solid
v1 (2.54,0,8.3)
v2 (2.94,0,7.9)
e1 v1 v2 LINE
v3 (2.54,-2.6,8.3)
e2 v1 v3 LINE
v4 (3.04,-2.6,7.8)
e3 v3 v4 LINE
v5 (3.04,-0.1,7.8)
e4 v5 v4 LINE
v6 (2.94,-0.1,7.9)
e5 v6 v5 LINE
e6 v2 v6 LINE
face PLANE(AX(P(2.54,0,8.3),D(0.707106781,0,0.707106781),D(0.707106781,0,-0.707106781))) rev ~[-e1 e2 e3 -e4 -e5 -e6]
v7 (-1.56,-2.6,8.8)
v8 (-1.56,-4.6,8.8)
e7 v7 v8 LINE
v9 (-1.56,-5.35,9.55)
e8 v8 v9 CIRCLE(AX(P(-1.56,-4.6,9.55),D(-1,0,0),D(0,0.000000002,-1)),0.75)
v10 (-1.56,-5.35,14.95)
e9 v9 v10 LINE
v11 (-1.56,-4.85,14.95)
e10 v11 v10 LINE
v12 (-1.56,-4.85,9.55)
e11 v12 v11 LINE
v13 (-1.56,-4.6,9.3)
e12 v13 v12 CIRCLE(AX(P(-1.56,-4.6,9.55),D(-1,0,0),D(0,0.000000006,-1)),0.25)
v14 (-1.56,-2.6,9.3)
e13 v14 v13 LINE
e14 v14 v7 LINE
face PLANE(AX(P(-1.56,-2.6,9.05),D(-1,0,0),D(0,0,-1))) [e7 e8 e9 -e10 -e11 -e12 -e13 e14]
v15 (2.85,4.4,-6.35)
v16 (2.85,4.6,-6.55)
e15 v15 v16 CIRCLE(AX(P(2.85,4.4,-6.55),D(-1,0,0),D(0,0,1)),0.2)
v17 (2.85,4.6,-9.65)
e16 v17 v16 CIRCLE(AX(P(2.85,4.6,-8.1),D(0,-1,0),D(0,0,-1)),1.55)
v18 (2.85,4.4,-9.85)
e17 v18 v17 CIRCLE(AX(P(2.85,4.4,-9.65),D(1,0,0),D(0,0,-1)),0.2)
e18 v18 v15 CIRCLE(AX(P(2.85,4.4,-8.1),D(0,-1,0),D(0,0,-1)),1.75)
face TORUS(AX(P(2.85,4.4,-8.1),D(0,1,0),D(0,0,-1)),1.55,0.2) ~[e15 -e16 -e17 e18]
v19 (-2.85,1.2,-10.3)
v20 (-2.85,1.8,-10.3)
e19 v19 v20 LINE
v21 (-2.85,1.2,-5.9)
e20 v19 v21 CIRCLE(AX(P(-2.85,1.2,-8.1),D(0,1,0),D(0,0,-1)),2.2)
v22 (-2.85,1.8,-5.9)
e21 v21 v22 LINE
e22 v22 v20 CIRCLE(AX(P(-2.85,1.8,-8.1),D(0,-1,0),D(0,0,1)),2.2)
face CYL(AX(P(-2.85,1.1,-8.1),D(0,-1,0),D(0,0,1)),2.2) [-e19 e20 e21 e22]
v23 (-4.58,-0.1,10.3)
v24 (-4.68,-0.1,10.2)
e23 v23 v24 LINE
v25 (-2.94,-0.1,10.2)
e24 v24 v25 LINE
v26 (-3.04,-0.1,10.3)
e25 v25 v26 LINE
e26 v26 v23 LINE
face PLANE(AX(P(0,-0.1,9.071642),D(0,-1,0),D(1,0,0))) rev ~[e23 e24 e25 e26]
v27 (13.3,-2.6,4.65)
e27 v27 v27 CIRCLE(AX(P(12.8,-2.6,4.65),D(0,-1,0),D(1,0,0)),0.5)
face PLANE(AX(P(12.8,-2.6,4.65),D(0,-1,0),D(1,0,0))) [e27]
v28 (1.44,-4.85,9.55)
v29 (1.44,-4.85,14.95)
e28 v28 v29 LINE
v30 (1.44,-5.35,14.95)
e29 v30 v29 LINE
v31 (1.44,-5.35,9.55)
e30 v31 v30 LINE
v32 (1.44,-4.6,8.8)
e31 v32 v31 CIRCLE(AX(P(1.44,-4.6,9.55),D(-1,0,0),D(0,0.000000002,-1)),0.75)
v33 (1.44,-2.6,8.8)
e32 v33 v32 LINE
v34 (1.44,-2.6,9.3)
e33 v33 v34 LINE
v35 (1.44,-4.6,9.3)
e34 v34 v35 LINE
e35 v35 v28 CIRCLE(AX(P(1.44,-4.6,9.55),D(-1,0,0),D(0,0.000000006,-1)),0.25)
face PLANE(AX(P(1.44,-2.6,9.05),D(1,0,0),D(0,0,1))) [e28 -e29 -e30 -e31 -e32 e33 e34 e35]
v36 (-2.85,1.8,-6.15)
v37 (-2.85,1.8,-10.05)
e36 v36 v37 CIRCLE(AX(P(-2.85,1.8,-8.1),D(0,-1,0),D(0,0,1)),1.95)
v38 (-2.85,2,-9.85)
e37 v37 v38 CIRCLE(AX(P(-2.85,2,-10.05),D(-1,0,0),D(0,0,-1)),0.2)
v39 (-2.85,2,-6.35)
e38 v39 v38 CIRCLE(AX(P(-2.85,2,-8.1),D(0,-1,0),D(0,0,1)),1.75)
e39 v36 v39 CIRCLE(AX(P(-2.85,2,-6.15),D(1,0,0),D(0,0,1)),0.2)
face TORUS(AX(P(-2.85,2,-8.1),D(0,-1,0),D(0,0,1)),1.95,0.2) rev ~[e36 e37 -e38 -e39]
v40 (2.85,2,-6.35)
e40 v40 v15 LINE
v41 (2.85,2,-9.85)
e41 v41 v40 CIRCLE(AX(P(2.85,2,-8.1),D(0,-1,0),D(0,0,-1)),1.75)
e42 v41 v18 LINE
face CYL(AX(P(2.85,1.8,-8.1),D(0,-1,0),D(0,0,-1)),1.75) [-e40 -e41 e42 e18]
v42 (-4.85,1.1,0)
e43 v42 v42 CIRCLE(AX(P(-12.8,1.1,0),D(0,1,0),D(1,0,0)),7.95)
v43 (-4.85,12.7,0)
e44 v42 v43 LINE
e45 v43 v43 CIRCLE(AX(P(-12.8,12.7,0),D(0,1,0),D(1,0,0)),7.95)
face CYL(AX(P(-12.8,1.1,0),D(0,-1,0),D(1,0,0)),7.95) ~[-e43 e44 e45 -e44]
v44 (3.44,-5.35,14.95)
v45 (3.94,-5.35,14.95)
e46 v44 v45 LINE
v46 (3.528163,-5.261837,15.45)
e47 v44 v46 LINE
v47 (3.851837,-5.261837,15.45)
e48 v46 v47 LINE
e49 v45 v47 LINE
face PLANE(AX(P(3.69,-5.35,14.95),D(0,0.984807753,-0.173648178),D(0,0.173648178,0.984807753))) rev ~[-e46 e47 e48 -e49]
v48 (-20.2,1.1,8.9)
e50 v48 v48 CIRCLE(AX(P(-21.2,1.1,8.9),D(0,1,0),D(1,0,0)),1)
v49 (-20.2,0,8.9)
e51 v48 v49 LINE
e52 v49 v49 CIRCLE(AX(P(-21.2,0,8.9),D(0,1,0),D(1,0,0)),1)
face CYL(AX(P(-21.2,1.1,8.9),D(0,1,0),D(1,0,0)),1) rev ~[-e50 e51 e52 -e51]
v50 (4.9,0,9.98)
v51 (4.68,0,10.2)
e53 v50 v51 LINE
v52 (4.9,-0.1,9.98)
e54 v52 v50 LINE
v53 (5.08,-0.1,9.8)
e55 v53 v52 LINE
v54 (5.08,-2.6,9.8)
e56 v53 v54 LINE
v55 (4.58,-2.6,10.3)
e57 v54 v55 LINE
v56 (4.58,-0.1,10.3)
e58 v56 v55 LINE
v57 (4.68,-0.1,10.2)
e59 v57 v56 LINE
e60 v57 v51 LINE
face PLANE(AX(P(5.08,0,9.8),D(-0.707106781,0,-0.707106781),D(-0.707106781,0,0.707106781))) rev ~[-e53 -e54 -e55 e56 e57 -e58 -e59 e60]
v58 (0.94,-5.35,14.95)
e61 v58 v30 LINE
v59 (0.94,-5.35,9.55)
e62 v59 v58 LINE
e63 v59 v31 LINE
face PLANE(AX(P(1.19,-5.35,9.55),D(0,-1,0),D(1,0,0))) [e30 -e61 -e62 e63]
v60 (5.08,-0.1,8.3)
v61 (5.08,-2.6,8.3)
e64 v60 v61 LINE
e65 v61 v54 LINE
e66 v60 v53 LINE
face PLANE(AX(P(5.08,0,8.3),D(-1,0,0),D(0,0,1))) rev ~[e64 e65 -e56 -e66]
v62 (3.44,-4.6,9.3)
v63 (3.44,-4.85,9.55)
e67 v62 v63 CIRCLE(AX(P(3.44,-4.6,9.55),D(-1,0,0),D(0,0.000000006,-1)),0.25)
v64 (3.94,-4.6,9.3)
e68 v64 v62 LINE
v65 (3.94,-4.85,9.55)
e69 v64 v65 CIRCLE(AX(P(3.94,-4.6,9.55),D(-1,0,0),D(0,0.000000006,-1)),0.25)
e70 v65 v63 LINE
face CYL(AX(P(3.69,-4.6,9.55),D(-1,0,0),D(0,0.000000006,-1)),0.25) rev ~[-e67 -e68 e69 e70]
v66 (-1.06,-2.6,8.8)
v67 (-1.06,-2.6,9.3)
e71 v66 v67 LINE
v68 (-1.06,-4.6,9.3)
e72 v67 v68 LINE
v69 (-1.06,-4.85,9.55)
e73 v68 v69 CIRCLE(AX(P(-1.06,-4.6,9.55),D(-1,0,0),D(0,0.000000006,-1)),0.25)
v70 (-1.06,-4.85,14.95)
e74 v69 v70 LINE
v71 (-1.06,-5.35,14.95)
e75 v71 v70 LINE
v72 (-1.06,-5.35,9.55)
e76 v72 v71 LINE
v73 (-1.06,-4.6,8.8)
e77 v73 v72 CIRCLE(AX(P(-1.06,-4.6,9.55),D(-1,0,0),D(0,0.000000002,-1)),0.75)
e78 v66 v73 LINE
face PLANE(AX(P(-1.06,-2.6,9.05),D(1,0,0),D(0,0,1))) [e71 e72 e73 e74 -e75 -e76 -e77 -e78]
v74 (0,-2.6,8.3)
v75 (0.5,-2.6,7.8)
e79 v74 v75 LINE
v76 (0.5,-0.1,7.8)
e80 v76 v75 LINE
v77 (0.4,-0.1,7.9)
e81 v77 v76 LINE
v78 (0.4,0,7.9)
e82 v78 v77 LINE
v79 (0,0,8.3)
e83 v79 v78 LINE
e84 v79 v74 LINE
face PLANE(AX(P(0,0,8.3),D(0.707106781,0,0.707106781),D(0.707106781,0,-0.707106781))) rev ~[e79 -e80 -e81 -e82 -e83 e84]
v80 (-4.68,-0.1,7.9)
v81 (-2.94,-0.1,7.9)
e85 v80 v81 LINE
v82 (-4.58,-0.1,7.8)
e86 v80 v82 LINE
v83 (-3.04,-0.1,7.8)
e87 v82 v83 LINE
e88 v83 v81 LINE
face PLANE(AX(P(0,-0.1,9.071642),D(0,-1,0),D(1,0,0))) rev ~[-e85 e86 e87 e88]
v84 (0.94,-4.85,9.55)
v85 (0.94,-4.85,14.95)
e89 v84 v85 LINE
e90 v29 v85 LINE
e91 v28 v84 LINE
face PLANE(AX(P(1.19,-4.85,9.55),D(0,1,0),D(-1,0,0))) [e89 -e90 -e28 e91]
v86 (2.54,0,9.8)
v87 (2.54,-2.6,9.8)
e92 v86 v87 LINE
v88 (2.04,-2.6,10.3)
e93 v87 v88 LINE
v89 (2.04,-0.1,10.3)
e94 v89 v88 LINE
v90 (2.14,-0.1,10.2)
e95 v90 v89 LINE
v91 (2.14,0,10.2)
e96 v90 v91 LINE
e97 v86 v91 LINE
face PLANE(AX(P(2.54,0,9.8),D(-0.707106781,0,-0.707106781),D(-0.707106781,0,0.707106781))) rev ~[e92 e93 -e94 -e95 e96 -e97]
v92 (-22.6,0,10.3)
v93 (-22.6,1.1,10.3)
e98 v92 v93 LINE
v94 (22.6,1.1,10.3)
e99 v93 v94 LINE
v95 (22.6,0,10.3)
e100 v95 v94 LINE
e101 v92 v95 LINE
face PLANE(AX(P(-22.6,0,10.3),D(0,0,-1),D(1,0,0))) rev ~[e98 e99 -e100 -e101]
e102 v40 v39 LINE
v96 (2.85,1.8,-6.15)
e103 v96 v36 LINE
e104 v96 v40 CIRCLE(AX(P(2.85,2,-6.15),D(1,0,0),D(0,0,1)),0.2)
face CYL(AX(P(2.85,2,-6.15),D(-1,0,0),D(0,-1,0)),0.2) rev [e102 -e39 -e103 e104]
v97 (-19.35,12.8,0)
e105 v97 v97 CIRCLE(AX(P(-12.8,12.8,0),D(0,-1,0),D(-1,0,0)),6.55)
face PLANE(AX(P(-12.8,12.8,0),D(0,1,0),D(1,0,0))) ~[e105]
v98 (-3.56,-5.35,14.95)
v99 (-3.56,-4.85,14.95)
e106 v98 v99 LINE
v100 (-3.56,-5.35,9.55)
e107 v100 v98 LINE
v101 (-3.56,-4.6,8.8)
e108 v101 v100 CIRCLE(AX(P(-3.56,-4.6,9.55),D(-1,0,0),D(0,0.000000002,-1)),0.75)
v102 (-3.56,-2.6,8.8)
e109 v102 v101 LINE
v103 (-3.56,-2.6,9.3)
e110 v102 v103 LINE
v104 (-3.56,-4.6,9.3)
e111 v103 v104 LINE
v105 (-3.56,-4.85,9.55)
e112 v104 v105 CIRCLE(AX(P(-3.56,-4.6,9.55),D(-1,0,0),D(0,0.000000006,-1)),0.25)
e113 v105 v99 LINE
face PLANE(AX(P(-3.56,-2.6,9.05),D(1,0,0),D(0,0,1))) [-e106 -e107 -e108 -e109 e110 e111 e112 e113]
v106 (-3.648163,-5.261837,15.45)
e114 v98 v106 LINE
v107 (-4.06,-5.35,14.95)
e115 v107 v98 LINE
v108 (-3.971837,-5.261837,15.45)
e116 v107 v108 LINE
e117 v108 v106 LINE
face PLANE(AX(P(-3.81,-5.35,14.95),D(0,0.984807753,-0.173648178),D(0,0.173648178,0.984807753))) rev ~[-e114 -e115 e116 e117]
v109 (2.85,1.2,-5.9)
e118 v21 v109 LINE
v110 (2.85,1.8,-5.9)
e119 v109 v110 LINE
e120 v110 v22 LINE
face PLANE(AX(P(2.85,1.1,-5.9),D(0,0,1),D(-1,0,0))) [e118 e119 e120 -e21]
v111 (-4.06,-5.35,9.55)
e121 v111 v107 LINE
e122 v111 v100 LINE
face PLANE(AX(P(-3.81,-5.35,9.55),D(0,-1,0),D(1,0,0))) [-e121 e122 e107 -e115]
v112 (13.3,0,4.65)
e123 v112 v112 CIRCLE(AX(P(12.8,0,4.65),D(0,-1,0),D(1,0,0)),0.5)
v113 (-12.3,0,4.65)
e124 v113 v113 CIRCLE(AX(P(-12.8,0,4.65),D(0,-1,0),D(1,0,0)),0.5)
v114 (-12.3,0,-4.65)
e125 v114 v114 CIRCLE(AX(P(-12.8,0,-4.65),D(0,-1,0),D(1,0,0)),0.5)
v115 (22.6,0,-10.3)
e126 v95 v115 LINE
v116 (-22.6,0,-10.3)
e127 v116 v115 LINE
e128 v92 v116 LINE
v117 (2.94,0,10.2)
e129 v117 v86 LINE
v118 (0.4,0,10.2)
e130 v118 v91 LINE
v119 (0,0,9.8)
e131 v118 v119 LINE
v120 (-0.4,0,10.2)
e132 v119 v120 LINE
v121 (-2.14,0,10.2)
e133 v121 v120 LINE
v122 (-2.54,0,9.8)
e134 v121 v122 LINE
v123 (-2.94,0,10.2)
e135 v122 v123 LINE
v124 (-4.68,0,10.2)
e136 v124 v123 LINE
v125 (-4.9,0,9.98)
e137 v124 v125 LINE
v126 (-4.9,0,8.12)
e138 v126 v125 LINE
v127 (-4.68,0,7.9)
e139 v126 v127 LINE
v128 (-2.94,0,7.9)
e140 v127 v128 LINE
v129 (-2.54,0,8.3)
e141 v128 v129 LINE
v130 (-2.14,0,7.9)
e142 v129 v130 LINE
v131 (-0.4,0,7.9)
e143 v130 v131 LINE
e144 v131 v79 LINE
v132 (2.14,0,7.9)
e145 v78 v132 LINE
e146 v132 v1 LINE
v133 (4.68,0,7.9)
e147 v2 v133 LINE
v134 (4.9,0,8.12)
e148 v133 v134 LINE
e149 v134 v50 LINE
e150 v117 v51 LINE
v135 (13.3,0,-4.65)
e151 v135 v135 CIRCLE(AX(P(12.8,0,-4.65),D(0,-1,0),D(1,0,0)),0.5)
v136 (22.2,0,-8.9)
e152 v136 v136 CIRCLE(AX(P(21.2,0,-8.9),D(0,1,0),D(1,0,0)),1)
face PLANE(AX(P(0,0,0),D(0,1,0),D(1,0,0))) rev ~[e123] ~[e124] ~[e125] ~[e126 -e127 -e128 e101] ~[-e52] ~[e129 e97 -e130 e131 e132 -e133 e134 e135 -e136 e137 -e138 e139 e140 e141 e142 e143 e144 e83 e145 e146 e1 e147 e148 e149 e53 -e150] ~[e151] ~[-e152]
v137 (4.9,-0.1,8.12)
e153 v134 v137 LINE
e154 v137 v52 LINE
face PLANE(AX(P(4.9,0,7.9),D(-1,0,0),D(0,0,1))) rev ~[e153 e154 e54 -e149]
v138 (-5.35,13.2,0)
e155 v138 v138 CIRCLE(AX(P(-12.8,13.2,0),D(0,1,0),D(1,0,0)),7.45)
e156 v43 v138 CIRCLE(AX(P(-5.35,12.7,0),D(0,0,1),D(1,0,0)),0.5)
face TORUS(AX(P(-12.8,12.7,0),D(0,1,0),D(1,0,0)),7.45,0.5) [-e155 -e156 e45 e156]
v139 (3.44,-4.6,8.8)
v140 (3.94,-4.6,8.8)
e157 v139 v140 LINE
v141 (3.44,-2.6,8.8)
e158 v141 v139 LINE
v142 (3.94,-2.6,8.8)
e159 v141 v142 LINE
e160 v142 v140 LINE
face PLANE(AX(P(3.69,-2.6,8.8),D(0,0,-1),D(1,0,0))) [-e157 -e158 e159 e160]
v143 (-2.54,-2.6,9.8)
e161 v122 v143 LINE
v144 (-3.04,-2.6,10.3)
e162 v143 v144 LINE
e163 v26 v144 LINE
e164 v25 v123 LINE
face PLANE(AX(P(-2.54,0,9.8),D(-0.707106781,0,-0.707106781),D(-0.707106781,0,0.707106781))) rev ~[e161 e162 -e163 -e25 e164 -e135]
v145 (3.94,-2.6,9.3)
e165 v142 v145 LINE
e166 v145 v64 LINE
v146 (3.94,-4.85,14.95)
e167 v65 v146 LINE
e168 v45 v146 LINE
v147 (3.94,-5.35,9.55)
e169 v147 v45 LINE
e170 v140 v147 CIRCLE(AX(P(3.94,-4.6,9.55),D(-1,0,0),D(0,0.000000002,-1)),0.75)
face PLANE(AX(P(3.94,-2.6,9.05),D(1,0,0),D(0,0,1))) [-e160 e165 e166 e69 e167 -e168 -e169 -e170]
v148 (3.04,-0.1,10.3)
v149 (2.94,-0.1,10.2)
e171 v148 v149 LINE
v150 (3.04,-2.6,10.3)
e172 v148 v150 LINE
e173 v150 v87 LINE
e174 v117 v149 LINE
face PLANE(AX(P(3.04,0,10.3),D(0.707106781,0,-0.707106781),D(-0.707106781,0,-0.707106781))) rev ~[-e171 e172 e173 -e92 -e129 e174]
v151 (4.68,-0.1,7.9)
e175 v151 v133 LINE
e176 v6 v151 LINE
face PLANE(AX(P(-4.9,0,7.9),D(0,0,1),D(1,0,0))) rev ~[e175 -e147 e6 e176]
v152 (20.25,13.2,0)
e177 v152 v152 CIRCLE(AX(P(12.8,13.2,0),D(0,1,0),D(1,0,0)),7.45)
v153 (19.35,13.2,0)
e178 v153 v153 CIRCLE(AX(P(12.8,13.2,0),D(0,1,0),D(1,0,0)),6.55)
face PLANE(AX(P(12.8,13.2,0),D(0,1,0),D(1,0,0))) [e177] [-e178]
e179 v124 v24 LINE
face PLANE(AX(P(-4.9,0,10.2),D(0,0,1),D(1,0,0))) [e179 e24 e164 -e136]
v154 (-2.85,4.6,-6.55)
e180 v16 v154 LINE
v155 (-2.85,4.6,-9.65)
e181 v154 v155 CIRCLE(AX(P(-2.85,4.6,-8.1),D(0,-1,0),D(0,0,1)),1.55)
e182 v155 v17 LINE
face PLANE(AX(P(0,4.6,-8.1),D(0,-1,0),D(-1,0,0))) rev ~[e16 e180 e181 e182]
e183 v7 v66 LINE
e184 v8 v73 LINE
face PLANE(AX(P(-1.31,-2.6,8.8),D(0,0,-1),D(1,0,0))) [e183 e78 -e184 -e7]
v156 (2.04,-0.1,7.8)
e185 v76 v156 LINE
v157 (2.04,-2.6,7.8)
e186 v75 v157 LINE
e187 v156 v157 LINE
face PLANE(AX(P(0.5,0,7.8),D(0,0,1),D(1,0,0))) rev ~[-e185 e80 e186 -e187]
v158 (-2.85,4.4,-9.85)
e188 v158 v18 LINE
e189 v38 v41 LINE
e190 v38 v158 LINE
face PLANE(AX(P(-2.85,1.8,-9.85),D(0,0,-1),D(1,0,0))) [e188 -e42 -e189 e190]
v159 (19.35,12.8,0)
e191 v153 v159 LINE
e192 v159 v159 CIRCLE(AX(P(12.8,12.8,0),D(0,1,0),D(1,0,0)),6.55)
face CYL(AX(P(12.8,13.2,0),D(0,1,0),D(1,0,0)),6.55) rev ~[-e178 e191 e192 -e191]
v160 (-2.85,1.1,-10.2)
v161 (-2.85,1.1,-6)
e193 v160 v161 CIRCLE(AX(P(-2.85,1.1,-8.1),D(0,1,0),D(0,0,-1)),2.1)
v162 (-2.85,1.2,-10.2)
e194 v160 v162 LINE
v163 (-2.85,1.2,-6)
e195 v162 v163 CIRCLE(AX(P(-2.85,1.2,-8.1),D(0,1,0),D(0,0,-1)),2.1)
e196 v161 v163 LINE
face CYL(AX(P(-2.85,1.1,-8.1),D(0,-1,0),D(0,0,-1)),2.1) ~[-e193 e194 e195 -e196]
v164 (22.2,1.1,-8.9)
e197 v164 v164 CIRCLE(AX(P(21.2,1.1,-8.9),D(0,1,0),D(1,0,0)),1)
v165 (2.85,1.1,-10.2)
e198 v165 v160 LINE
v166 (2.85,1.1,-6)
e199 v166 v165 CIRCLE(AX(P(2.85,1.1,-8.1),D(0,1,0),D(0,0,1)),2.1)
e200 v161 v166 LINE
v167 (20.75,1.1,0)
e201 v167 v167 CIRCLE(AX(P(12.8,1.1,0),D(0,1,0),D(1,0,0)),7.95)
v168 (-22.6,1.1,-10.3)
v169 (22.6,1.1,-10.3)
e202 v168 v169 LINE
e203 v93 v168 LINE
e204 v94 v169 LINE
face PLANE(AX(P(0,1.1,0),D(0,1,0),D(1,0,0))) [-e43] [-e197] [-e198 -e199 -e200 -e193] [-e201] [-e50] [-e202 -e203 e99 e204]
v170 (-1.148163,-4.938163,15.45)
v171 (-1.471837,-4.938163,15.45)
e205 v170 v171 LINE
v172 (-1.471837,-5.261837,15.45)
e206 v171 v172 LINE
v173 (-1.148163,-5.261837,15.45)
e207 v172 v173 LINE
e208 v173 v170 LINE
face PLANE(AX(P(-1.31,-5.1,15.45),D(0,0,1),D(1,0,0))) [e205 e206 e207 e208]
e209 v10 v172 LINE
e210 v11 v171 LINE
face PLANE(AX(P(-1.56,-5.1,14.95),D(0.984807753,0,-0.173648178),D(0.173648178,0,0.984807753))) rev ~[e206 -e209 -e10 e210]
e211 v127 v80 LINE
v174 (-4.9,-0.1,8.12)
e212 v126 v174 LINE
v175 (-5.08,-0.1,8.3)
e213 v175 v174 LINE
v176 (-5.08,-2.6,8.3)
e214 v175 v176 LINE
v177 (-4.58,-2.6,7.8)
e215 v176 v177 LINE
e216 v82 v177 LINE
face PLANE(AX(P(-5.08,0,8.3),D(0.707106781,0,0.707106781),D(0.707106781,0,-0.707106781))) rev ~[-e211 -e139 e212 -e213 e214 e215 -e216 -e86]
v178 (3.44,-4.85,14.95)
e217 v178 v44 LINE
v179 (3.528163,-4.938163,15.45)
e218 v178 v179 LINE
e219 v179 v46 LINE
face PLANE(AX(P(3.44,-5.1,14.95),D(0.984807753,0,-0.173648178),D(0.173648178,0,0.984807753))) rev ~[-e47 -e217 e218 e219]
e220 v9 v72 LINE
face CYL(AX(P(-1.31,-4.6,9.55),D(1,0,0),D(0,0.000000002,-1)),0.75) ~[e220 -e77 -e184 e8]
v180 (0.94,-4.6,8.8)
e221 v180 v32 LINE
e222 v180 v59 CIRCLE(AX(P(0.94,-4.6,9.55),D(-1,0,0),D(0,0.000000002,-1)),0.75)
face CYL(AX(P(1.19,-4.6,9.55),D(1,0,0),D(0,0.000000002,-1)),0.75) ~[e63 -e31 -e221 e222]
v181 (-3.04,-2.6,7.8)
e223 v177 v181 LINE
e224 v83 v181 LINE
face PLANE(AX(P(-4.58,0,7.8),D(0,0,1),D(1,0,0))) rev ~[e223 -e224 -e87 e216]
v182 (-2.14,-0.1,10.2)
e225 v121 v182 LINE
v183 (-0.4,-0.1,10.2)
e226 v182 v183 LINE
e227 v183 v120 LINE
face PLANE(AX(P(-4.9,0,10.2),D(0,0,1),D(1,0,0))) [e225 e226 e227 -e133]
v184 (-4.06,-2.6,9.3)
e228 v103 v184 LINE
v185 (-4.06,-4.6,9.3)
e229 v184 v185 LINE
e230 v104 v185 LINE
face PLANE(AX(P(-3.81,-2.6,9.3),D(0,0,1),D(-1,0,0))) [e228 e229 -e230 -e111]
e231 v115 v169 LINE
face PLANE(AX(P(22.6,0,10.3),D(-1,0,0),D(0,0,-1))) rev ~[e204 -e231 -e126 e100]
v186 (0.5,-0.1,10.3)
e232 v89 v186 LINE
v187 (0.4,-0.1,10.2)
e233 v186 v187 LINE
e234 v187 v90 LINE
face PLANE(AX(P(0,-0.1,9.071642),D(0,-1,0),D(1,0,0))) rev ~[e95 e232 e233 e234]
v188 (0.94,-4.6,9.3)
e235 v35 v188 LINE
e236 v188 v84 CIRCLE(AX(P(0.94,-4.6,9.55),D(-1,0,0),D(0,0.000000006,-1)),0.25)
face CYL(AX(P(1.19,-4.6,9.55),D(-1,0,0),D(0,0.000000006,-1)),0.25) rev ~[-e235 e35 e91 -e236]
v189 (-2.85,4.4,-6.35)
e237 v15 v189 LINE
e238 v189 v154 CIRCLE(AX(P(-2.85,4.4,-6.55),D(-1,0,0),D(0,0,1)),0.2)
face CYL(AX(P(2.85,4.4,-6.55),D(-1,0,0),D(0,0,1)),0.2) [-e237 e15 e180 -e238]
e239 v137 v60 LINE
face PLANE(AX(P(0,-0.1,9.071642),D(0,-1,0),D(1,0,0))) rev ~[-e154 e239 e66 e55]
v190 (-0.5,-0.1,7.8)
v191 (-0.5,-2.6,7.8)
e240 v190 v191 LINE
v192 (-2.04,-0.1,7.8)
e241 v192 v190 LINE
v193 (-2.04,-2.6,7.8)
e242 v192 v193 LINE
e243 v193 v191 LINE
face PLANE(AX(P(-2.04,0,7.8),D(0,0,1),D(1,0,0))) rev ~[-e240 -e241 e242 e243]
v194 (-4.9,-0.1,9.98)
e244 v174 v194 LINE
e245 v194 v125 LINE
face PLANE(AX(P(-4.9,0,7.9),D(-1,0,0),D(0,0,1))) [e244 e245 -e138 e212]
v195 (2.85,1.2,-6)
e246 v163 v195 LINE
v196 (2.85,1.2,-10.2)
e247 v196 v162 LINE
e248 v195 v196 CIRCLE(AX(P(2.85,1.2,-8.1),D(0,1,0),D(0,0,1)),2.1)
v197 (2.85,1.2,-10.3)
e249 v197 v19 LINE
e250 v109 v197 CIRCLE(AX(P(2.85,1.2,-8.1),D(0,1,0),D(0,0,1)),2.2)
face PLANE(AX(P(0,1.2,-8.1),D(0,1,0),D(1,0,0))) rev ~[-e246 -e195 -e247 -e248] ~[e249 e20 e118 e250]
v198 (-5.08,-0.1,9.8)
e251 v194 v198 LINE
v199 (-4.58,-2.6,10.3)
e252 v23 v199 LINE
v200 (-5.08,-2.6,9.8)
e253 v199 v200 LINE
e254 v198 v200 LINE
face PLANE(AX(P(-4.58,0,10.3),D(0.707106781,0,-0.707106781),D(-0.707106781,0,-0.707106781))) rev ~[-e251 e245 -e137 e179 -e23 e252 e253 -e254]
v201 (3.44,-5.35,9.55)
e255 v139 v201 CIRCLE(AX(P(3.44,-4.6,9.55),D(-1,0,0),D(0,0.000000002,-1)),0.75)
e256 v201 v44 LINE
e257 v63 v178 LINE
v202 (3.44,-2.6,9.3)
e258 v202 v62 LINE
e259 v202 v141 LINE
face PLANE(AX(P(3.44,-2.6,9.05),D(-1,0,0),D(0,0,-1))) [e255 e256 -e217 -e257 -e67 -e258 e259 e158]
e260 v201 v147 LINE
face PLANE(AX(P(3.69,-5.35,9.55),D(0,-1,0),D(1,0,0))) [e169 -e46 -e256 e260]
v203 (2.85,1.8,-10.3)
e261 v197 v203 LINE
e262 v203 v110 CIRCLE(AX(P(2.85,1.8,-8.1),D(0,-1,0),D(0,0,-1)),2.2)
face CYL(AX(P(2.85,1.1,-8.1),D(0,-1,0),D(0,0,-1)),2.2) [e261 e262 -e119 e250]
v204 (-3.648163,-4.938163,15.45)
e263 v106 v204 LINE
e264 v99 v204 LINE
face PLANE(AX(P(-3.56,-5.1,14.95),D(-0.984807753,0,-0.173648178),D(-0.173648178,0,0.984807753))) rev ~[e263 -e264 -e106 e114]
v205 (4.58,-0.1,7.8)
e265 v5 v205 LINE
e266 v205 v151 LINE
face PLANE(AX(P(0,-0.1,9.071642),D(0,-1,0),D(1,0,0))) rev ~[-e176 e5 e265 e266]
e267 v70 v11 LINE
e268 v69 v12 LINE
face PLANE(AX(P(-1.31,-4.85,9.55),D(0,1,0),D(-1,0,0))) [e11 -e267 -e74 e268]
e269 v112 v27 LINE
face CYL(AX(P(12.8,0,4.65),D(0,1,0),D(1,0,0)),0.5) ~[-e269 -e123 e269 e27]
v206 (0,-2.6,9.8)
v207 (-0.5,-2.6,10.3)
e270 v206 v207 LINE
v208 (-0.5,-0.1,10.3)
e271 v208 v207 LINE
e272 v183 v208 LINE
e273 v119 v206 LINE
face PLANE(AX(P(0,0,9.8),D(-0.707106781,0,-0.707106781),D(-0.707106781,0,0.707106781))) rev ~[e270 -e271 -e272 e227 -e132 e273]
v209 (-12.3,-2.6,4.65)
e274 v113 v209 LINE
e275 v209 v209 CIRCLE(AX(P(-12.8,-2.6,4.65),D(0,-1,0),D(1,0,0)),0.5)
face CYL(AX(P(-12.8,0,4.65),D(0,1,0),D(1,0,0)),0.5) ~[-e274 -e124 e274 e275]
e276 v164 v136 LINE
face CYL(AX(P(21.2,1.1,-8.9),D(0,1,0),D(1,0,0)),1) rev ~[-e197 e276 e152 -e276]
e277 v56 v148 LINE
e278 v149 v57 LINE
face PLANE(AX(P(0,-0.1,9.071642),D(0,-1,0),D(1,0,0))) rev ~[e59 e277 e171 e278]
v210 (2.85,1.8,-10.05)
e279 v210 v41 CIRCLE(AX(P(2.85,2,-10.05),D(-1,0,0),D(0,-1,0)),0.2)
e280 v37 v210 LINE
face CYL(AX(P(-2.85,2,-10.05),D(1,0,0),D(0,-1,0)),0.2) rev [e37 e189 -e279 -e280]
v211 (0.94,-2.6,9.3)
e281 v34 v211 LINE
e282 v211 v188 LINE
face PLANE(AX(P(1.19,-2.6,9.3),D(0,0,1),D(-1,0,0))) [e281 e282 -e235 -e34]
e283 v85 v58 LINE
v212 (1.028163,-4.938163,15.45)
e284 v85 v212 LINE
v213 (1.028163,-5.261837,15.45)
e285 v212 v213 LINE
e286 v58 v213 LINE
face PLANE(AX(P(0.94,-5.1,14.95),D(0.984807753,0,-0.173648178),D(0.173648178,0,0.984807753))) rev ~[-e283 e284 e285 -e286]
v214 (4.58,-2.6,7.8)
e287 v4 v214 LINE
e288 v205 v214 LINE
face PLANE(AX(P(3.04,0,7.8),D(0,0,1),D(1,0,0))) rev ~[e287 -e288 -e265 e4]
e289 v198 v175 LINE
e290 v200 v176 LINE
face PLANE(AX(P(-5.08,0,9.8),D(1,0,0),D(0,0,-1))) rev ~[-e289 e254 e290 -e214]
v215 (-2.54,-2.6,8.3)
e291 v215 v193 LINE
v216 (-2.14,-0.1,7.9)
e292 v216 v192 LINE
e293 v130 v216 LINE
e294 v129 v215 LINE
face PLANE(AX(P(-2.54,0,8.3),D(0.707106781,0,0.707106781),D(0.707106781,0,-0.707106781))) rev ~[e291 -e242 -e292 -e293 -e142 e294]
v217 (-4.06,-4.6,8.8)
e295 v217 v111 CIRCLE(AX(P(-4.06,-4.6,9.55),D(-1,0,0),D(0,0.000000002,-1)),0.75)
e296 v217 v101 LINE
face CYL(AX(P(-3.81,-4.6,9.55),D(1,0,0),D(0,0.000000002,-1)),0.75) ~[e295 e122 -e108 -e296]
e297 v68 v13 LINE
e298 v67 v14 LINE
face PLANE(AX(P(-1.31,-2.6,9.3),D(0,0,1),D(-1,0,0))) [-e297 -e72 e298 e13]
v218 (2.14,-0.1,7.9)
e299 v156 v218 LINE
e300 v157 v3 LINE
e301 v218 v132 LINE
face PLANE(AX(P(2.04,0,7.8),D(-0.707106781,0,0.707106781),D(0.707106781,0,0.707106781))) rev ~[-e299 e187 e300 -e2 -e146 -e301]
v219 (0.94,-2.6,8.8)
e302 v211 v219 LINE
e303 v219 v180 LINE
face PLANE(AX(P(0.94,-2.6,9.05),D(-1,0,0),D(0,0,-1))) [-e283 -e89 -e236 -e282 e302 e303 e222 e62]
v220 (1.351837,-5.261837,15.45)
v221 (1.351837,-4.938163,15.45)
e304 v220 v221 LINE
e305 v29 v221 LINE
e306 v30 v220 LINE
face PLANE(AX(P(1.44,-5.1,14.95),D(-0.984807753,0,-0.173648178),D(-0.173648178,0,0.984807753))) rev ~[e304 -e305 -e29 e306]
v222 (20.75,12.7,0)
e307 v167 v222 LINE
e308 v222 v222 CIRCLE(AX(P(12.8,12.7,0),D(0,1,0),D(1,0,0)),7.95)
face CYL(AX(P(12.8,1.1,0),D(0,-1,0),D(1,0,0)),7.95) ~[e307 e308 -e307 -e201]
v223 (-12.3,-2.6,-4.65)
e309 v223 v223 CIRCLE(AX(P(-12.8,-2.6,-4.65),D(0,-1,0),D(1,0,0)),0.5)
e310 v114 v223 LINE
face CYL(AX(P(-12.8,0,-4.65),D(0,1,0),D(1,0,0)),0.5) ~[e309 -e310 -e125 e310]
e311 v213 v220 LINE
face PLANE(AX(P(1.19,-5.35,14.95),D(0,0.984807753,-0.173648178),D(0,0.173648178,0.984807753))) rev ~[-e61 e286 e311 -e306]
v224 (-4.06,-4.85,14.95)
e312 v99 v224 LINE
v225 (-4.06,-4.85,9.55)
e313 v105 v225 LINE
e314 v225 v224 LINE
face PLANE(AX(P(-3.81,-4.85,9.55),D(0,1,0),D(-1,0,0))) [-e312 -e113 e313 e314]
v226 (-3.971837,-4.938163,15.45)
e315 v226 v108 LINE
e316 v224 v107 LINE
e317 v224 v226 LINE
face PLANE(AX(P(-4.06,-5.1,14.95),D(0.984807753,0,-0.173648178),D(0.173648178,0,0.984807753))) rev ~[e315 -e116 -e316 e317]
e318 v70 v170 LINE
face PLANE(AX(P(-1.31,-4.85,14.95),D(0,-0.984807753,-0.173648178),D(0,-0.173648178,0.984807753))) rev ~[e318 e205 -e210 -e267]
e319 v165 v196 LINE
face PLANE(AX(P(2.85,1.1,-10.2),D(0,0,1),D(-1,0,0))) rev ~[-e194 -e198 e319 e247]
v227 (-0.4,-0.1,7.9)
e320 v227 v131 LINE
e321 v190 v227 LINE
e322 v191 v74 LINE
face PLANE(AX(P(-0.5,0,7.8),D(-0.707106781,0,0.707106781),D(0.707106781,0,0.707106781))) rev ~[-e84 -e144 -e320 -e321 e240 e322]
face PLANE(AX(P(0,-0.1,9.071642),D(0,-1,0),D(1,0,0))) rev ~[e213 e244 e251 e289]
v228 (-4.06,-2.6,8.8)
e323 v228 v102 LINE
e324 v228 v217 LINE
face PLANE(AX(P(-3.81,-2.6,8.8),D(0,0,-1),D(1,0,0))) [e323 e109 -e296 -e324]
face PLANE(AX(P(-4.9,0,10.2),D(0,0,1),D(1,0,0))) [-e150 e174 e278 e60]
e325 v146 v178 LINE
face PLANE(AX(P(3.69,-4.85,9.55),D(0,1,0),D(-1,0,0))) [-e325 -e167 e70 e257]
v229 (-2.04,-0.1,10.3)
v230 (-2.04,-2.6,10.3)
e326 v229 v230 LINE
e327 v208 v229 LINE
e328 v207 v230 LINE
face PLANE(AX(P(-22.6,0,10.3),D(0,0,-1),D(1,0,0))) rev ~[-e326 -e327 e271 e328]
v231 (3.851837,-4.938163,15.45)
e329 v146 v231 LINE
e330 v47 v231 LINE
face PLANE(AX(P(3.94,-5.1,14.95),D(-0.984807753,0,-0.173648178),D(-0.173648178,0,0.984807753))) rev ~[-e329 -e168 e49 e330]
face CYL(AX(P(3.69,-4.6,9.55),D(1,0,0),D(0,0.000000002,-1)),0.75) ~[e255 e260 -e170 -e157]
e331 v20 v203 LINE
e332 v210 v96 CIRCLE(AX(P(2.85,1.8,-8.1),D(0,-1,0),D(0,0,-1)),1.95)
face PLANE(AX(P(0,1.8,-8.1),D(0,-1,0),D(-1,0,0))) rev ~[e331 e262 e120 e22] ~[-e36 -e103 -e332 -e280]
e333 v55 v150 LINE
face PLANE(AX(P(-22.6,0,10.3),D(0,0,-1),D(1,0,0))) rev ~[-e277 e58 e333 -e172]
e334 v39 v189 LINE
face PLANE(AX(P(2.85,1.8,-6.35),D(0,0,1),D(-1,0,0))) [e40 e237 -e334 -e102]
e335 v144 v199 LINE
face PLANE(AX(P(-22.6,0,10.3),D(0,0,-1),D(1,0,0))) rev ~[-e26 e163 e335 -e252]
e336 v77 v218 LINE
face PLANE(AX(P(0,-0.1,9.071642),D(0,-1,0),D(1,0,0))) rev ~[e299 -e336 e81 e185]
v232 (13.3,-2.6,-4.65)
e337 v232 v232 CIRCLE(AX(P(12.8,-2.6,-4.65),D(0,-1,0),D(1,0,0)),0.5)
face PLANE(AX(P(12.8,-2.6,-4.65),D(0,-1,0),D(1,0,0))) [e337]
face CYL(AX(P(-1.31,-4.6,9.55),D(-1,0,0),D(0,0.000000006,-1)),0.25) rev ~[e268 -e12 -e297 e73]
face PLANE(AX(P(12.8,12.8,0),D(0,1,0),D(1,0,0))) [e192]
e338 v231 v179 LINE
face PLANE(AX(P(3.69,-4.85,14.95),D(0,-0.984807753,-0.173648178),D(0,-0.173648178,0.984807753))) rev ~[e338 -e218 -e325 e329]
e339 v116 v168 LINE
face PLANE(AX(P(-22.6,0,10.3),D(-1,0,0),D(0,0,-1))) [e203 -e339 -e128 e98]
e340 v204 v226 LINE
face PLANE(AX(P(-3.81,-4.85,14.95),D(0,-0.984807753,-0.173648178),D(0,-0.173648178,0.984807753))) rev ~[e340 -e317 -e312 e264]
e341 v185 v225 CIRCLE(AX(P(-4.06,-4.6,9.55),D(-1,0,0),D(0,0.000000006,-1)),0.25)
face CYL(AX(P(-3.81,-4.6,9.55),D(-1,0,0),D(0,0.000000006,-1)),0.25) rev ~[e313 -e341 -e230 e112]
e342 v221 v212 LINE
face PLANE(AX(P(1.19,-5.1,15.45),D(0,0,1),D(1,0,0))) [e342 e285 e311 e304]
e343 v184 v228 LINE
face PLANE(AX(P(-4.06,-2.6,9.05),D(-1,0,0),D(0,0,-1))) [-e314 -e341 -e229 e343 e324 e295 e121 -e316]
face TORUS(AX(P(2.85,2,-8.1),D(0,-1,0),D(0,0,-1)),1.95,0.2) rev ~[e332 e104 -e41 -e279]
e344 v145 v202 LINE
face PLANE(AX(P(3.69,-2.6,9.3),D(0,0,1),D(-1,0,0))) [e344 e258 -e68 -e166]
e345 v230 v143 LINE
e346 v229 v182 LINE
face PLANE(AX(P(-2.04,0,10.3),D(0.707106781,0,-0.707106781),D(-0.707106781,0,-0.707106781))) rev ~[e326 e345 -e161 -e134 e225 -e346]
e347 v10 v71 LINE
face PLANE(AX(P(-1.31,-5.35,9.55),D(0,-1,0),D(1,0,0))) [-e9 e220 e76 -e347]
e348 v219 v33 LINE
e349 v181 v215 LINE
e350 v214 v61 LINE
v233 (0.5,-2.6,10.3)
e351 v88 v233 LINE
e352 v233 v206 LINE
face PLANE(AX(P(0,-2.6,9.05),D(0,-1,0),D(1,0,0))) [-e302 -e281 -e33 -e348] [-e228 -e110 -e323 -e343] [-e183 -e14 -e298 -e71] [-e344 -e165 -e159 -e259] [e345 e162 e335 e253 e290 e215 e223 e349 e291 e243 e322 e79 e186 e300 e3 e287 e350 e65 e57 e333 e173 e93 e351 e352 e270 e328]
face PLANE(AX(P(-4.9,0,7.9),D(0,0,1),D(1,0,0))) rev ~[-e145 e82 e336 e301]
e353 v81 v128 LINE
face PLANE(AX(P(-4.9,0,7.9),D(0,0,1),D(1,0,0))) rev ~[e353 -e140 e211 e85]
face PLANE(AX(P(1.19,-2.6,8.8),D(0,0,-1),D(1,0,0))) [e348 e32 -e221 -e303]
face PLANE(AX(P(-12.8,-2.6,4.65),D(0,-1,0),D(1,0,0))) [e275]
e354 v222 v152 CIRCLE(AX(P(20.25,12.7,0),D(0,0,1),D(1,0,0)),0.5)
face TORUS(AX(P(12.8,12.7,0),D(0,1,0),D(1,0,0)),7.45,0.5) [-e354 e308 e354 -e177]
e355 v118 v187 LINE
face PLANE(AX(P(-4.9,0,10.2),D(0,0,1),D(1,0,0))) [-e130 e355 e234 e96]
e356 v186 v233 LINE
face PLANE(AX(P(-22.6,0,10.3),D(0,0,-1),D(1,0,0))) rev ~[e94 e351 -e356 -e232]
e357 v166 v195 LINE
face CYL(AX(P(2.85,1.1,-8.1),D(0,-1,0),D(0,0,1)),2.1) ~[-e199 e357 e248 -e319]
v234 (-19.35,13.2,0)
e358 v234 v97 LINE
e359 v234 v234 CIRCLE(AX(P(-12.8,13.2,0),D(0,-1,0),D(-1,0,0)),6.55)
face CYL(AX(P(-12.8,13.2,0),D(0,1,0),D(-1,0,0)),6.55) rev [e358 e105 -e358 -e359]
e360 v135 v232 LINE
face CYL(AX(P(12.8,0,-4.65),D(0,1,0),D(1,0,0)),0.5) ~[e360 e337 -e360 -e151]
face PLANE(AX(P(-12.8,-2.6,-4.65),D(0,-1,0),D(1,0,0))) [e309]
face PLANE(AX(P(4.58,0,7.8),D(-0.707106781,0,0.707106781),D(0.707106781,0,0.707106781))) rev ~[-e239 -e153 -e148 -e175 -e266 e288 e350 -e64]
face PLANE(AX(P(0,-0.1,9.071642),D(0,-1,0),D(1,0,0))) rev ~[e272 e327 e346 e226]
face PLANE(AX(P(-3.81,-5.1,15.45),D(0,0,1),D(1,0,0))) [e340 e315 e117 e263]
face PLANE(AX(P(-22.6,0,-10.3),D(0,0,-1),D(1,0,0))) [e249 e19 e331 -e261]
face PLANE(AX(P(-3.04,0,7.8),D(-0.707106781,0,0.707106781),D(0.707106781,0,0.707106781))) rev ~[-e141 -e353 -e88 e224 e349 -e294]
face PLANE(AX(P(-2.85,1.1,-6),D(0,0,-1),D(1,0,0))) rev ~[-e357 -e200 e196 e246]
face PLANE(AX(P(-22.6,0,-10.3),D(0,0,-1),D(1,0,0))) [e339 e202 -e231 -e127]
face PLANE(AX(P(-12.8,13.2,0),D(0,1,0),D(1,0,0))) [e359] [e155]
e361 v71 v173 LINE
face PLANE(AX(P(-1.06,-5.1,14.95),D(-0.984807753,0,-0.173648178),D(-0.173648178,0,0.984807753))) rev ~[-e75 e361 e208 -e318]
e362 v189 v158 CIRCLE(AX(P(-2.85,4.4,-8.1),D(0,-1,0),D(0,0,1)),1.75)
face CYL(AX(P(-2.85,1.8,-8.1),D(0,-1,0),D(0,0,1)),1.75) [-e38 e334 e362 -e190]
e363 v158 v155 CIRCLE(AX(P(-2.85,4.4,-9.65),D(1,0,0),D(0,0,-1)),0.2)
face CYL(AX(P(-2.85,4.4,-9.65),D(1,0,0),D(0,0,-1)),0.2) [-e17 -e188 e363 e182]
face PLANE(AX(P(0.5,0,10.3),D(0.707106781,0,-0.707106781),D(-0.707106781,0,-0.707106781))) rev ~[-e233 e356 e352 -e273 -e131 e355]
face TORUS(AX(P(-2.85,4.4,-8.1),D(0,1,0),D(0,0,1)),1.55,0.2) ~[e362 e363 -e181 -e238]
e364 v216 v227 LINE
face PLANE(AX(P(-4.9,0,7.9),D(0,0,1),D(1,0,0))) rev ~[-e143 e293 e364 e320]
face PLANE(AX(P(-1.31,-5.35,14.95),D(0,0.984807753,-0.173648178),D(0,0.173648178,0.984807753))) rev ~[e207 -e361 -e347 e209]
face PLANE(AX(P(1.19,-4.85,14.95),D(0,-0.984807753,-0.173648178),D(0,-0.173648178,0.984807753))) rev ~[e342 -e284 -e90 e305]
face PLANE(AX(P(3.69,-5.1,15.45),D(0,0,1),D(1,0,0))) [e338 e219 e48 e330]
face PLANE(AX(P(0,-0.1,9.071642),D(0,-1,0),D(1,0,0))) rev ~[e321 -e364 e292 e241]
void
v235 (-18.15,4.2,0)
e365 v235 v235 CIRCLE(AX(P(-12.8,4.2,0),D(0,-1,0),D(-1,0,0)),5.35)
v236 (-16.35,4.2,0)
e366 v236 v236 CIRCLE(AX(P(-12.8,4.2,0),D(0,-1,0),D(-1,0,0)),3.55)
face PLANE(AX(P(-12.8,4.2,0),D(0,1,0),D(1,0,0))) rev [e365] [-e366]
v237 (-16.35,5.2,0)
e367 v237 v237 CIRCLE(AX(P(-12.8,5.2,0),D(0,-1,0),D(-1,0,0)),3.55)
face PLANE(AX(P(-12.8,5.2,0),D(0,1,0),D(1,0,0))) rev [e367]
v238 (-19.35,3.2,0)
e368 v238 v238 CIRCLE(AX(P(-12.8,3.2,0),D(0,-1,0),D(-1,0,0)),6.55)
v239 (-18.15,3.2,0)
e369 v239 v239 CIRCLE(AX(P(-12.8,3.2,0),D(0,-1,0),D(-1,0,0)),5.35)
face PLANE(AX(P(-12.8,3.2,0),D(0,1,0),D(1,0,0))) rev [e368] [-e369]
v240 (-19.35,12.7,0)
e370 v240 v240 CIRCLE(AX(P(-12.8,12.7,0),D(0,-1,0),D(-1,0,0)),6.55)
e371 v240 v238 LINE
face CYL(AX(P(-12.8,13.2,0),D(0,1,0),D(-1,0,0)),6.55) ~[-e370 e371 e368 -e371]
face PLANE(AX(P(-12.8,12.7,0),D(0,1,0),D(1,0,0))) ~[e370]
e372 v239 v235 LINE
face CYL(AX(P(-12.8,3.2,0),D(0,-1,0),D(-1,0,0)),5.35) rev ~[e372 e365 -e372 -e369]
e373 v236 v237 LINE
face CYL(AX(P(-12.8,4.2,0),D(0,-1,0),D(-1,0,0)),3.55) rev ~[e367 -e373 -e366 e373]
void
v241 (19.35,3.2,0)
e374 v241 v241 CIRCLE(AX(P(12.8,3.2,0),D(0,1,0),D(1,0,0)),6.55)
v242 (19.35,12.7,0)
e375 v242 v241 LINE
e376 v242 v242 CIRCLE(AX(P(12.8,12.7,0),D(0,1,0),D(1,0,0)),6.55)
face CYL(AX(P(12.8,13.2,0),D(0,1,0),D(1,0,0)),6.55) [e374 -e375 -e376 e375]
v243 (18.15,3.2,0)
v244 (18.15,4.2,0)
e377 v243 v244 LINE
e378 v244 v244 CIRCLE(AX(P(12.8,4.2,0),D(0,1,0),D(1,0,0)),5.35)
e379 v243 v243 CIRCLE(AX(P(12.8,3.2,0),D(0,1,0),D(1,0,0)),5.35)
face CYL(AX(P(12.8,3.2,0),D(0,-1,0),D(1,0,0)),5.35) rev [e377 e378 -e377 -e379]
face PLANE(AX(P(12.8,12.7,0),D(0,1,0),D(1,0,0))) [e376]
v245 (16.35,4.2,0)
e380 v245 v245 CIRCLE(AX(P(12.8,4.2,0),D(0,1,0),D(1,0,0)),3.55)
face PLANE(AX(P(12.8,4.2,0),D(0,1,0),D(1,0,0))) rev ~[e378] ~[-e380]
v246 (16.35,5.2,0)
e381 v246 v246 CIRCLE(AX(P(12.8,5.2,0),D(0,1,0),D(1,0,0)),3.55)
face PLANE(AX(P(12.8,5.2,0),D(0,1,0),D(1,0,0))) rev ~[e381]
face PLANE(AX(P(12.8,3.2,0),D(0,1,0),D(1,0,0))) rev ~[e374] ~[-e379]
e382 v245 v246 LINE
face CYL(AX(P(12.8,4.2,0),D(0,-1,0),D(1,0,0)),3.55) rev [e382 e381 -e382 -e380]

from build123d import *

# Parameters (mm, degrees)
SKETCH1_W            = 45.2
SKETCH1_H            = 20.6
BOSS_EXTRUDE1_DEPTH  = 1.1
SKETCH2_R            = 7.95
BOSS_EXTRUDE2_DEPTH  = 12.1
BOSS_EXTRUDE3_DEPTH  = 2.6
SKETCH5_W            = 10.591964238
SKETCH5_H            = 2.906134497
SKETCH5_W_2          = 9.8
SKETCH5_H_2          = 2.3
CUT_EXTRUDE2_DEPTH   = 0.1
SKETCH6_W            = 0.5
SKETCH6_H            = 0.5
SKETCH8_W            = 0.5
SKETCH8_H            = 0.5
BOSS_EXTRUDE4_DEPTH  = 0.5
BOSS_EXTRUDE4_TAPER  = 10
LPATTERN1_COUNT      = 4
LPATTERN1_PITCH      = 2.5
SKETCH9_R            = 6.55
CUT_EXTRUDE3_DEPTH   = 10
SKETCH10_R           = 5.35
BOSS_EXTRUDE5_DEPTH  = 1
SKETCH11_R           = 3.55
BOSS_EXTRUDE6_DEPTH  = 1
BOSS_EXTRUDE10_DEPTH = 0.7
BOSS_EXTRUDE11_DEPTH = 2.8
SKETCH18_R           = 1
CUT_EXTRUDE4_DEPTH   = 7.45
SKETCH19_R           = 0.5
BOSS_EXTRUDE12_DEPTH = 2.6
CUT_EXTRUDE5_DEPTH   = 0.1
FILLET1_R            = 0.5
SKETCH33_R           = 6.55
BOSS_EXTRUDE21_DEPTH = 0.1
FILLET4_R            = 0.2


with BuildPart() as part:
    # Sketch1 → Boss-Extrude1 (new body)
    with BuildSketch(Plane(origin=(0, 0, 0), x_dir=(1, 0, 0), z_dir=(0, 1, 0))):
        Rectangle(SKETCH1_W, SKETCH1_H)
    extrude(amount=BOSS_EXTRUDE1_DEPTH)

    # Sketch2 → Boss-Extrude2 (add)
    with BuildSketch(Plane(origin=(0, 1.1, 0), x_dir=(1, 0, 0), z_dir=(0, 1, 0))):
        with Locations((12.8, 0)):
            Circle(SKETCH2_R)
        with Locations((-12.8, 0)):
            Circle(SKETCH2_R)
    extrude(amount=BOSS_EXTRUDE2_DEPTH)

    # Sketch3 → Boss-Extrude3 (add)
    with BuildSketch(Plane.XZ):
        Polygon((-4.58, 10.3), (-5.08, 9.8), (-5.08, 8.3), (-4.58, 7.8), (-3.04, 7.8), (-2.54, 8.3), (-2.04, 7.8), (-0.5, 7.8), (0, 8.3), (0.5, 7.8), (2.04, 7.8), (2.54, 8.3), (3.04, 7.8), (4.58, 7.8), (5.08, 8.3), (5.08, 9.8), (4.58, 10.3), (3.04, 10.3), (2.54, 9.8), (2.04, 10.3), (0.5, 10.3), (0, 9.8), (-0.5, 10.3), (-2.04, 10.3), (-2.54, 9.8), (-3.04, 10.3), align=None)
    extrude(amount=BOSS_EXTRUDE3_DEPTH)

    # Sketch5 → Cut-Extrude2 (cut)
    with BuildSketch(Plane.XZ):
        with Locations((0, 9.071641639)):
            Rectangle(SKETCH5_W, SKETCH5_H)
        with Locations((0, 9.05)):
            Rectangle(SKETCH5_W_2, SKETCH5_H_2, mode=Mode.SUBTRACT)
    extrude(amount=CUT_EXTRUDE2_DEPTH, mode=Mode.SUBTRACT)

    # Sweep1: sweep along a path in Sketch7
    with BuildLine(Plane(origin=(-3.81, 0, 0), x_dir=(0, 0, -1), z_dir=(1, 0, 0))) as sweep1_path:
        Line((-9.05, -2.6), (-9.05, -4.6))
        ThreePointArc((-9.05, -4.6), (-9.196446609, -4.953553391), (-9.55, -5.1))
        Line((-9.55, -5.1), (-14.95, -5.1))
    # Sketch6 → Sweep1 (sweep)
    with BuildSketch(Plane.XZ.offset(2.6)):
        with Locations((-3.81, 9.05)):
            Rectangle(SKETCH6_W, SKETCH6_H)
    sweep1 = sweep(path=sweep1_path.line)

    # Sketch8 → Boss-Extrude4 (add)
    with BuildSketch(Plane.XY.offset(14.95)):
        with Locations((-3.81, -5.1)):
            Rectangle(SKETCH8_W, SKETCH8_H)
    boss_extrude4 = extrude(amount=BOSS_EXTRUDE4_DEPTH, taper=BOSS_EXTRUDE4_TAPER)

    # LPattern1: Sweep1, Boss-Extrude4 ×4
    with Locations(*[(i * LPATTERN1_PITCH, 0, 0) for i in range(1, LPATTERN1_COUNT)]):
        add(sweep1)
        add(boss_extrude4)

    # Sketch9 → Cut-Extrude3 (cut)
    with BuildSketch(Plane(origin=(0, 13.2, 0), x_dir=(1, 0, 0), z_dir=(0, 1, 0))):
        with Locations((12.8, 0)):
            Circle(SKETCH9_R)
    cut_extrude3 = extrude(amount=-CUT_EXTRUDE3_DEPTH, mode=Mode.SUBTRACT)

    # Sketch10 → Boss-Extrude5 (add)
    with BuildSketch(Plane(origin=(0, 3.2, 0), x_dir=(1, 0, 0), z_dir=(0, 1, 0))):
        with Locations((12.8, 0)):
            Circle(SKETCH10_R)
    boss_extrude5 = extrude(amount=BOSS_EXTRUDE5_DEPTH)

    # Sketch11 → Boss-Extrude6 (add)
    with BuildSketch(Plane(origin=(0, 4.2, 0), x_dir=(1, 0, 0), z_dir=(0, 1, 0))):
        with Locations((12.8, 0)):
            Circle(SKETCH11_R)
    boss_extrude6 = extrude(amount=BOSS_EXTRUDE6_DEPTH)

    # Mirror1: Cut-Extrude3, Boss-Extrude5, Boss-Extrude6 across plane
    add(cut_extrude3.mirror(Plane(origin=(0, 0, 0), x_dir=(0, 0, 1), z_dir=(1, 0, 0))), mode=Mode.SUBTRACT)
    add(boss_extrude5.mirror(Plane(origin=(0, 0, 0), x_dir=(0, 0, 1), z_dir=(1, 0, 0))))
    add(boss_extrude6.mirror(Plane(origin=(0, 0, 0), x_dir=(0, 0, 1), z_dir=(1, 0, 0))))

    # Sketch16 → Boss-Extrude10 (add)
    with BuildSketch(Plane(origin=(0, 1.1, 0), x_dir=(1, 0, 0), z_dir=(0, 1, 0))):
        with BuildLine():
            Line((-2.85, 10.3), (2.85, 10.3))
            ThreePointArc((2.85, 10.3), (5.05, 8.1), (2.85, 5.9))
            Line((2.85, 5.9), (-2.85, 5.9))
            ThreePointArc((-2.85, 5.9), (-5.05, 8.1), (-2.85, 10.3))
        make_face()
    extrude(amount=BOSS_EXTRUDE10_DEPTH)

    # Sketch17 → Boss-Extrude11 (add)
    with BuildSketch(Plane(origin=(0, 1.8, 0), x_dir=(1, 0, 0), z_dir=(0, 1, 0))):
        with BuildLine():
            Line((-2.85, 9.85), (2.85, 9.85))
            ThreePointArc((2.85, 9.85), (4.6, 8.1), (2.85, 6.35))
            Line((2.85, 6.35), (-2.85, 6.35))
            ThreePointArc((-2.85, 6.35), (-4.6, 8.1), (-2.85, 9.85))
        make_face()
    extrude(amount=BOSS_EXTRUDE11_DEPTH)

    # Sketch18 → Cut-Extrude4 (cut, through all)
    with BuildSketch(Plane(origin=(0, 1.1, 0), x_dir=(1, 0, 0), z_dir=(0, 1, 0))):
        with Locations((-21.2, -8.9)):
            Circle(SKETCH18_R)
        with Locations((21.2, 8.9)):
            Circle(SKETCH18_R)
    extrude(amount=-CUT_EXTRUDE4_DEPTH, mode=Mode.SUBTRACT)

    # Sketch19 → Boss-Extrude12 (add)
    with BuildSketch(Plane.XZ):
        with Locations((-12.8, 4.65)):
            Circle(SKETCH19_R)
        with Locations((-12.8, -4.65)):
            Circle(SKETCH19_R)
        with Locations((12.8, -4.65)):
            Circle(SKETCH19_R)
        with Locations((12.8, 4.65)):
            Circle(SKETCH19_R)
    extrude(amount=BOSS_EXTRUDE12_DEPTH)

    # Sketch20 → Cut-Extrude5 (cut)
    with BuildSketch(Plane(origin=(0, 1.1, 0), x_dir=(1, 0, 0), z_dir=(0, 1, 0))):
        with BuildLine():
            Line((-2.85, 5.9), (2.85, 5.9))
            ThreePointArc((2.85, 5.9), (5.05, 8.1), (2.85, 10.3))
            Line((2.85, 10.3), (-2.85, 10.3))
            ThreePointArc((-2.85, 10.3), (-5.05, 8.1), (-2.85, 5.9))
        make_face()
        with BuildLine():
            Line((-2.85, 6), (2.85, 6))
            ThreePointArc((2.85, 6), (4.95, 8.1), (2.85, 10.2))
            Line((2.85, 10.2), (-2.85, 10.2))
            ThreePointArc((-2.85, 10.2), (-4.95, 8.1), (-2.85, 6))
        make_face(mode=Mode.SUBTRACT)
    extrude(amount=CUT_EXTRUDE5_DEPTH, mode=Mode.SUBTRACT)

    # Fillet1
    fillet1_edges = [part.edges().sort_by_distance(p)[0] for p in [
        (4.85, 13.2, 0),
        (-20.75, 13.2, 0),
    ]]
    fillet(fillet1_edges, radius=FILLET1_R)

    # Sketch33 → Boss-Extrude21 (add)
    with BuildSketch(Plane(origin=(0, 12.7, 0), x_dir=(1, 0, 0), z_dir=(0, 1, 0))):
        with Locations((12.8, 0)):
            Circle(SKETCH33_R)
    boss_extrude21 = extrude(amount=BOSS_EXTRUDE21_DEPTH)

    # Mirror2: Boss-Extrude21 across plane
    add(boss_extrude21.mirror(Plane(origin=(0, 0, 0), x_dir=(0, 0, 1), z_dir=(1, 0, 0))))

    # Fillet4
    fillet4_edges = [part.edges().sort_by_distance(p)[0] for p in [
        (-4.6, 1.8, -8.1),
        (0, 1.8, -6.35),
        (4.6, 1.8, -8.1),
        (0, 1.8, -9.85),
        (-4.6, 4.6, -8.1),
        (0, 4.6, -6.35),
        (4.6, 4.6, -8.1),
        (0, 4.6, -9.85),
    ]]
    fillet(fillet4_edges, radius=FILLET4_R)


solid = part.part
